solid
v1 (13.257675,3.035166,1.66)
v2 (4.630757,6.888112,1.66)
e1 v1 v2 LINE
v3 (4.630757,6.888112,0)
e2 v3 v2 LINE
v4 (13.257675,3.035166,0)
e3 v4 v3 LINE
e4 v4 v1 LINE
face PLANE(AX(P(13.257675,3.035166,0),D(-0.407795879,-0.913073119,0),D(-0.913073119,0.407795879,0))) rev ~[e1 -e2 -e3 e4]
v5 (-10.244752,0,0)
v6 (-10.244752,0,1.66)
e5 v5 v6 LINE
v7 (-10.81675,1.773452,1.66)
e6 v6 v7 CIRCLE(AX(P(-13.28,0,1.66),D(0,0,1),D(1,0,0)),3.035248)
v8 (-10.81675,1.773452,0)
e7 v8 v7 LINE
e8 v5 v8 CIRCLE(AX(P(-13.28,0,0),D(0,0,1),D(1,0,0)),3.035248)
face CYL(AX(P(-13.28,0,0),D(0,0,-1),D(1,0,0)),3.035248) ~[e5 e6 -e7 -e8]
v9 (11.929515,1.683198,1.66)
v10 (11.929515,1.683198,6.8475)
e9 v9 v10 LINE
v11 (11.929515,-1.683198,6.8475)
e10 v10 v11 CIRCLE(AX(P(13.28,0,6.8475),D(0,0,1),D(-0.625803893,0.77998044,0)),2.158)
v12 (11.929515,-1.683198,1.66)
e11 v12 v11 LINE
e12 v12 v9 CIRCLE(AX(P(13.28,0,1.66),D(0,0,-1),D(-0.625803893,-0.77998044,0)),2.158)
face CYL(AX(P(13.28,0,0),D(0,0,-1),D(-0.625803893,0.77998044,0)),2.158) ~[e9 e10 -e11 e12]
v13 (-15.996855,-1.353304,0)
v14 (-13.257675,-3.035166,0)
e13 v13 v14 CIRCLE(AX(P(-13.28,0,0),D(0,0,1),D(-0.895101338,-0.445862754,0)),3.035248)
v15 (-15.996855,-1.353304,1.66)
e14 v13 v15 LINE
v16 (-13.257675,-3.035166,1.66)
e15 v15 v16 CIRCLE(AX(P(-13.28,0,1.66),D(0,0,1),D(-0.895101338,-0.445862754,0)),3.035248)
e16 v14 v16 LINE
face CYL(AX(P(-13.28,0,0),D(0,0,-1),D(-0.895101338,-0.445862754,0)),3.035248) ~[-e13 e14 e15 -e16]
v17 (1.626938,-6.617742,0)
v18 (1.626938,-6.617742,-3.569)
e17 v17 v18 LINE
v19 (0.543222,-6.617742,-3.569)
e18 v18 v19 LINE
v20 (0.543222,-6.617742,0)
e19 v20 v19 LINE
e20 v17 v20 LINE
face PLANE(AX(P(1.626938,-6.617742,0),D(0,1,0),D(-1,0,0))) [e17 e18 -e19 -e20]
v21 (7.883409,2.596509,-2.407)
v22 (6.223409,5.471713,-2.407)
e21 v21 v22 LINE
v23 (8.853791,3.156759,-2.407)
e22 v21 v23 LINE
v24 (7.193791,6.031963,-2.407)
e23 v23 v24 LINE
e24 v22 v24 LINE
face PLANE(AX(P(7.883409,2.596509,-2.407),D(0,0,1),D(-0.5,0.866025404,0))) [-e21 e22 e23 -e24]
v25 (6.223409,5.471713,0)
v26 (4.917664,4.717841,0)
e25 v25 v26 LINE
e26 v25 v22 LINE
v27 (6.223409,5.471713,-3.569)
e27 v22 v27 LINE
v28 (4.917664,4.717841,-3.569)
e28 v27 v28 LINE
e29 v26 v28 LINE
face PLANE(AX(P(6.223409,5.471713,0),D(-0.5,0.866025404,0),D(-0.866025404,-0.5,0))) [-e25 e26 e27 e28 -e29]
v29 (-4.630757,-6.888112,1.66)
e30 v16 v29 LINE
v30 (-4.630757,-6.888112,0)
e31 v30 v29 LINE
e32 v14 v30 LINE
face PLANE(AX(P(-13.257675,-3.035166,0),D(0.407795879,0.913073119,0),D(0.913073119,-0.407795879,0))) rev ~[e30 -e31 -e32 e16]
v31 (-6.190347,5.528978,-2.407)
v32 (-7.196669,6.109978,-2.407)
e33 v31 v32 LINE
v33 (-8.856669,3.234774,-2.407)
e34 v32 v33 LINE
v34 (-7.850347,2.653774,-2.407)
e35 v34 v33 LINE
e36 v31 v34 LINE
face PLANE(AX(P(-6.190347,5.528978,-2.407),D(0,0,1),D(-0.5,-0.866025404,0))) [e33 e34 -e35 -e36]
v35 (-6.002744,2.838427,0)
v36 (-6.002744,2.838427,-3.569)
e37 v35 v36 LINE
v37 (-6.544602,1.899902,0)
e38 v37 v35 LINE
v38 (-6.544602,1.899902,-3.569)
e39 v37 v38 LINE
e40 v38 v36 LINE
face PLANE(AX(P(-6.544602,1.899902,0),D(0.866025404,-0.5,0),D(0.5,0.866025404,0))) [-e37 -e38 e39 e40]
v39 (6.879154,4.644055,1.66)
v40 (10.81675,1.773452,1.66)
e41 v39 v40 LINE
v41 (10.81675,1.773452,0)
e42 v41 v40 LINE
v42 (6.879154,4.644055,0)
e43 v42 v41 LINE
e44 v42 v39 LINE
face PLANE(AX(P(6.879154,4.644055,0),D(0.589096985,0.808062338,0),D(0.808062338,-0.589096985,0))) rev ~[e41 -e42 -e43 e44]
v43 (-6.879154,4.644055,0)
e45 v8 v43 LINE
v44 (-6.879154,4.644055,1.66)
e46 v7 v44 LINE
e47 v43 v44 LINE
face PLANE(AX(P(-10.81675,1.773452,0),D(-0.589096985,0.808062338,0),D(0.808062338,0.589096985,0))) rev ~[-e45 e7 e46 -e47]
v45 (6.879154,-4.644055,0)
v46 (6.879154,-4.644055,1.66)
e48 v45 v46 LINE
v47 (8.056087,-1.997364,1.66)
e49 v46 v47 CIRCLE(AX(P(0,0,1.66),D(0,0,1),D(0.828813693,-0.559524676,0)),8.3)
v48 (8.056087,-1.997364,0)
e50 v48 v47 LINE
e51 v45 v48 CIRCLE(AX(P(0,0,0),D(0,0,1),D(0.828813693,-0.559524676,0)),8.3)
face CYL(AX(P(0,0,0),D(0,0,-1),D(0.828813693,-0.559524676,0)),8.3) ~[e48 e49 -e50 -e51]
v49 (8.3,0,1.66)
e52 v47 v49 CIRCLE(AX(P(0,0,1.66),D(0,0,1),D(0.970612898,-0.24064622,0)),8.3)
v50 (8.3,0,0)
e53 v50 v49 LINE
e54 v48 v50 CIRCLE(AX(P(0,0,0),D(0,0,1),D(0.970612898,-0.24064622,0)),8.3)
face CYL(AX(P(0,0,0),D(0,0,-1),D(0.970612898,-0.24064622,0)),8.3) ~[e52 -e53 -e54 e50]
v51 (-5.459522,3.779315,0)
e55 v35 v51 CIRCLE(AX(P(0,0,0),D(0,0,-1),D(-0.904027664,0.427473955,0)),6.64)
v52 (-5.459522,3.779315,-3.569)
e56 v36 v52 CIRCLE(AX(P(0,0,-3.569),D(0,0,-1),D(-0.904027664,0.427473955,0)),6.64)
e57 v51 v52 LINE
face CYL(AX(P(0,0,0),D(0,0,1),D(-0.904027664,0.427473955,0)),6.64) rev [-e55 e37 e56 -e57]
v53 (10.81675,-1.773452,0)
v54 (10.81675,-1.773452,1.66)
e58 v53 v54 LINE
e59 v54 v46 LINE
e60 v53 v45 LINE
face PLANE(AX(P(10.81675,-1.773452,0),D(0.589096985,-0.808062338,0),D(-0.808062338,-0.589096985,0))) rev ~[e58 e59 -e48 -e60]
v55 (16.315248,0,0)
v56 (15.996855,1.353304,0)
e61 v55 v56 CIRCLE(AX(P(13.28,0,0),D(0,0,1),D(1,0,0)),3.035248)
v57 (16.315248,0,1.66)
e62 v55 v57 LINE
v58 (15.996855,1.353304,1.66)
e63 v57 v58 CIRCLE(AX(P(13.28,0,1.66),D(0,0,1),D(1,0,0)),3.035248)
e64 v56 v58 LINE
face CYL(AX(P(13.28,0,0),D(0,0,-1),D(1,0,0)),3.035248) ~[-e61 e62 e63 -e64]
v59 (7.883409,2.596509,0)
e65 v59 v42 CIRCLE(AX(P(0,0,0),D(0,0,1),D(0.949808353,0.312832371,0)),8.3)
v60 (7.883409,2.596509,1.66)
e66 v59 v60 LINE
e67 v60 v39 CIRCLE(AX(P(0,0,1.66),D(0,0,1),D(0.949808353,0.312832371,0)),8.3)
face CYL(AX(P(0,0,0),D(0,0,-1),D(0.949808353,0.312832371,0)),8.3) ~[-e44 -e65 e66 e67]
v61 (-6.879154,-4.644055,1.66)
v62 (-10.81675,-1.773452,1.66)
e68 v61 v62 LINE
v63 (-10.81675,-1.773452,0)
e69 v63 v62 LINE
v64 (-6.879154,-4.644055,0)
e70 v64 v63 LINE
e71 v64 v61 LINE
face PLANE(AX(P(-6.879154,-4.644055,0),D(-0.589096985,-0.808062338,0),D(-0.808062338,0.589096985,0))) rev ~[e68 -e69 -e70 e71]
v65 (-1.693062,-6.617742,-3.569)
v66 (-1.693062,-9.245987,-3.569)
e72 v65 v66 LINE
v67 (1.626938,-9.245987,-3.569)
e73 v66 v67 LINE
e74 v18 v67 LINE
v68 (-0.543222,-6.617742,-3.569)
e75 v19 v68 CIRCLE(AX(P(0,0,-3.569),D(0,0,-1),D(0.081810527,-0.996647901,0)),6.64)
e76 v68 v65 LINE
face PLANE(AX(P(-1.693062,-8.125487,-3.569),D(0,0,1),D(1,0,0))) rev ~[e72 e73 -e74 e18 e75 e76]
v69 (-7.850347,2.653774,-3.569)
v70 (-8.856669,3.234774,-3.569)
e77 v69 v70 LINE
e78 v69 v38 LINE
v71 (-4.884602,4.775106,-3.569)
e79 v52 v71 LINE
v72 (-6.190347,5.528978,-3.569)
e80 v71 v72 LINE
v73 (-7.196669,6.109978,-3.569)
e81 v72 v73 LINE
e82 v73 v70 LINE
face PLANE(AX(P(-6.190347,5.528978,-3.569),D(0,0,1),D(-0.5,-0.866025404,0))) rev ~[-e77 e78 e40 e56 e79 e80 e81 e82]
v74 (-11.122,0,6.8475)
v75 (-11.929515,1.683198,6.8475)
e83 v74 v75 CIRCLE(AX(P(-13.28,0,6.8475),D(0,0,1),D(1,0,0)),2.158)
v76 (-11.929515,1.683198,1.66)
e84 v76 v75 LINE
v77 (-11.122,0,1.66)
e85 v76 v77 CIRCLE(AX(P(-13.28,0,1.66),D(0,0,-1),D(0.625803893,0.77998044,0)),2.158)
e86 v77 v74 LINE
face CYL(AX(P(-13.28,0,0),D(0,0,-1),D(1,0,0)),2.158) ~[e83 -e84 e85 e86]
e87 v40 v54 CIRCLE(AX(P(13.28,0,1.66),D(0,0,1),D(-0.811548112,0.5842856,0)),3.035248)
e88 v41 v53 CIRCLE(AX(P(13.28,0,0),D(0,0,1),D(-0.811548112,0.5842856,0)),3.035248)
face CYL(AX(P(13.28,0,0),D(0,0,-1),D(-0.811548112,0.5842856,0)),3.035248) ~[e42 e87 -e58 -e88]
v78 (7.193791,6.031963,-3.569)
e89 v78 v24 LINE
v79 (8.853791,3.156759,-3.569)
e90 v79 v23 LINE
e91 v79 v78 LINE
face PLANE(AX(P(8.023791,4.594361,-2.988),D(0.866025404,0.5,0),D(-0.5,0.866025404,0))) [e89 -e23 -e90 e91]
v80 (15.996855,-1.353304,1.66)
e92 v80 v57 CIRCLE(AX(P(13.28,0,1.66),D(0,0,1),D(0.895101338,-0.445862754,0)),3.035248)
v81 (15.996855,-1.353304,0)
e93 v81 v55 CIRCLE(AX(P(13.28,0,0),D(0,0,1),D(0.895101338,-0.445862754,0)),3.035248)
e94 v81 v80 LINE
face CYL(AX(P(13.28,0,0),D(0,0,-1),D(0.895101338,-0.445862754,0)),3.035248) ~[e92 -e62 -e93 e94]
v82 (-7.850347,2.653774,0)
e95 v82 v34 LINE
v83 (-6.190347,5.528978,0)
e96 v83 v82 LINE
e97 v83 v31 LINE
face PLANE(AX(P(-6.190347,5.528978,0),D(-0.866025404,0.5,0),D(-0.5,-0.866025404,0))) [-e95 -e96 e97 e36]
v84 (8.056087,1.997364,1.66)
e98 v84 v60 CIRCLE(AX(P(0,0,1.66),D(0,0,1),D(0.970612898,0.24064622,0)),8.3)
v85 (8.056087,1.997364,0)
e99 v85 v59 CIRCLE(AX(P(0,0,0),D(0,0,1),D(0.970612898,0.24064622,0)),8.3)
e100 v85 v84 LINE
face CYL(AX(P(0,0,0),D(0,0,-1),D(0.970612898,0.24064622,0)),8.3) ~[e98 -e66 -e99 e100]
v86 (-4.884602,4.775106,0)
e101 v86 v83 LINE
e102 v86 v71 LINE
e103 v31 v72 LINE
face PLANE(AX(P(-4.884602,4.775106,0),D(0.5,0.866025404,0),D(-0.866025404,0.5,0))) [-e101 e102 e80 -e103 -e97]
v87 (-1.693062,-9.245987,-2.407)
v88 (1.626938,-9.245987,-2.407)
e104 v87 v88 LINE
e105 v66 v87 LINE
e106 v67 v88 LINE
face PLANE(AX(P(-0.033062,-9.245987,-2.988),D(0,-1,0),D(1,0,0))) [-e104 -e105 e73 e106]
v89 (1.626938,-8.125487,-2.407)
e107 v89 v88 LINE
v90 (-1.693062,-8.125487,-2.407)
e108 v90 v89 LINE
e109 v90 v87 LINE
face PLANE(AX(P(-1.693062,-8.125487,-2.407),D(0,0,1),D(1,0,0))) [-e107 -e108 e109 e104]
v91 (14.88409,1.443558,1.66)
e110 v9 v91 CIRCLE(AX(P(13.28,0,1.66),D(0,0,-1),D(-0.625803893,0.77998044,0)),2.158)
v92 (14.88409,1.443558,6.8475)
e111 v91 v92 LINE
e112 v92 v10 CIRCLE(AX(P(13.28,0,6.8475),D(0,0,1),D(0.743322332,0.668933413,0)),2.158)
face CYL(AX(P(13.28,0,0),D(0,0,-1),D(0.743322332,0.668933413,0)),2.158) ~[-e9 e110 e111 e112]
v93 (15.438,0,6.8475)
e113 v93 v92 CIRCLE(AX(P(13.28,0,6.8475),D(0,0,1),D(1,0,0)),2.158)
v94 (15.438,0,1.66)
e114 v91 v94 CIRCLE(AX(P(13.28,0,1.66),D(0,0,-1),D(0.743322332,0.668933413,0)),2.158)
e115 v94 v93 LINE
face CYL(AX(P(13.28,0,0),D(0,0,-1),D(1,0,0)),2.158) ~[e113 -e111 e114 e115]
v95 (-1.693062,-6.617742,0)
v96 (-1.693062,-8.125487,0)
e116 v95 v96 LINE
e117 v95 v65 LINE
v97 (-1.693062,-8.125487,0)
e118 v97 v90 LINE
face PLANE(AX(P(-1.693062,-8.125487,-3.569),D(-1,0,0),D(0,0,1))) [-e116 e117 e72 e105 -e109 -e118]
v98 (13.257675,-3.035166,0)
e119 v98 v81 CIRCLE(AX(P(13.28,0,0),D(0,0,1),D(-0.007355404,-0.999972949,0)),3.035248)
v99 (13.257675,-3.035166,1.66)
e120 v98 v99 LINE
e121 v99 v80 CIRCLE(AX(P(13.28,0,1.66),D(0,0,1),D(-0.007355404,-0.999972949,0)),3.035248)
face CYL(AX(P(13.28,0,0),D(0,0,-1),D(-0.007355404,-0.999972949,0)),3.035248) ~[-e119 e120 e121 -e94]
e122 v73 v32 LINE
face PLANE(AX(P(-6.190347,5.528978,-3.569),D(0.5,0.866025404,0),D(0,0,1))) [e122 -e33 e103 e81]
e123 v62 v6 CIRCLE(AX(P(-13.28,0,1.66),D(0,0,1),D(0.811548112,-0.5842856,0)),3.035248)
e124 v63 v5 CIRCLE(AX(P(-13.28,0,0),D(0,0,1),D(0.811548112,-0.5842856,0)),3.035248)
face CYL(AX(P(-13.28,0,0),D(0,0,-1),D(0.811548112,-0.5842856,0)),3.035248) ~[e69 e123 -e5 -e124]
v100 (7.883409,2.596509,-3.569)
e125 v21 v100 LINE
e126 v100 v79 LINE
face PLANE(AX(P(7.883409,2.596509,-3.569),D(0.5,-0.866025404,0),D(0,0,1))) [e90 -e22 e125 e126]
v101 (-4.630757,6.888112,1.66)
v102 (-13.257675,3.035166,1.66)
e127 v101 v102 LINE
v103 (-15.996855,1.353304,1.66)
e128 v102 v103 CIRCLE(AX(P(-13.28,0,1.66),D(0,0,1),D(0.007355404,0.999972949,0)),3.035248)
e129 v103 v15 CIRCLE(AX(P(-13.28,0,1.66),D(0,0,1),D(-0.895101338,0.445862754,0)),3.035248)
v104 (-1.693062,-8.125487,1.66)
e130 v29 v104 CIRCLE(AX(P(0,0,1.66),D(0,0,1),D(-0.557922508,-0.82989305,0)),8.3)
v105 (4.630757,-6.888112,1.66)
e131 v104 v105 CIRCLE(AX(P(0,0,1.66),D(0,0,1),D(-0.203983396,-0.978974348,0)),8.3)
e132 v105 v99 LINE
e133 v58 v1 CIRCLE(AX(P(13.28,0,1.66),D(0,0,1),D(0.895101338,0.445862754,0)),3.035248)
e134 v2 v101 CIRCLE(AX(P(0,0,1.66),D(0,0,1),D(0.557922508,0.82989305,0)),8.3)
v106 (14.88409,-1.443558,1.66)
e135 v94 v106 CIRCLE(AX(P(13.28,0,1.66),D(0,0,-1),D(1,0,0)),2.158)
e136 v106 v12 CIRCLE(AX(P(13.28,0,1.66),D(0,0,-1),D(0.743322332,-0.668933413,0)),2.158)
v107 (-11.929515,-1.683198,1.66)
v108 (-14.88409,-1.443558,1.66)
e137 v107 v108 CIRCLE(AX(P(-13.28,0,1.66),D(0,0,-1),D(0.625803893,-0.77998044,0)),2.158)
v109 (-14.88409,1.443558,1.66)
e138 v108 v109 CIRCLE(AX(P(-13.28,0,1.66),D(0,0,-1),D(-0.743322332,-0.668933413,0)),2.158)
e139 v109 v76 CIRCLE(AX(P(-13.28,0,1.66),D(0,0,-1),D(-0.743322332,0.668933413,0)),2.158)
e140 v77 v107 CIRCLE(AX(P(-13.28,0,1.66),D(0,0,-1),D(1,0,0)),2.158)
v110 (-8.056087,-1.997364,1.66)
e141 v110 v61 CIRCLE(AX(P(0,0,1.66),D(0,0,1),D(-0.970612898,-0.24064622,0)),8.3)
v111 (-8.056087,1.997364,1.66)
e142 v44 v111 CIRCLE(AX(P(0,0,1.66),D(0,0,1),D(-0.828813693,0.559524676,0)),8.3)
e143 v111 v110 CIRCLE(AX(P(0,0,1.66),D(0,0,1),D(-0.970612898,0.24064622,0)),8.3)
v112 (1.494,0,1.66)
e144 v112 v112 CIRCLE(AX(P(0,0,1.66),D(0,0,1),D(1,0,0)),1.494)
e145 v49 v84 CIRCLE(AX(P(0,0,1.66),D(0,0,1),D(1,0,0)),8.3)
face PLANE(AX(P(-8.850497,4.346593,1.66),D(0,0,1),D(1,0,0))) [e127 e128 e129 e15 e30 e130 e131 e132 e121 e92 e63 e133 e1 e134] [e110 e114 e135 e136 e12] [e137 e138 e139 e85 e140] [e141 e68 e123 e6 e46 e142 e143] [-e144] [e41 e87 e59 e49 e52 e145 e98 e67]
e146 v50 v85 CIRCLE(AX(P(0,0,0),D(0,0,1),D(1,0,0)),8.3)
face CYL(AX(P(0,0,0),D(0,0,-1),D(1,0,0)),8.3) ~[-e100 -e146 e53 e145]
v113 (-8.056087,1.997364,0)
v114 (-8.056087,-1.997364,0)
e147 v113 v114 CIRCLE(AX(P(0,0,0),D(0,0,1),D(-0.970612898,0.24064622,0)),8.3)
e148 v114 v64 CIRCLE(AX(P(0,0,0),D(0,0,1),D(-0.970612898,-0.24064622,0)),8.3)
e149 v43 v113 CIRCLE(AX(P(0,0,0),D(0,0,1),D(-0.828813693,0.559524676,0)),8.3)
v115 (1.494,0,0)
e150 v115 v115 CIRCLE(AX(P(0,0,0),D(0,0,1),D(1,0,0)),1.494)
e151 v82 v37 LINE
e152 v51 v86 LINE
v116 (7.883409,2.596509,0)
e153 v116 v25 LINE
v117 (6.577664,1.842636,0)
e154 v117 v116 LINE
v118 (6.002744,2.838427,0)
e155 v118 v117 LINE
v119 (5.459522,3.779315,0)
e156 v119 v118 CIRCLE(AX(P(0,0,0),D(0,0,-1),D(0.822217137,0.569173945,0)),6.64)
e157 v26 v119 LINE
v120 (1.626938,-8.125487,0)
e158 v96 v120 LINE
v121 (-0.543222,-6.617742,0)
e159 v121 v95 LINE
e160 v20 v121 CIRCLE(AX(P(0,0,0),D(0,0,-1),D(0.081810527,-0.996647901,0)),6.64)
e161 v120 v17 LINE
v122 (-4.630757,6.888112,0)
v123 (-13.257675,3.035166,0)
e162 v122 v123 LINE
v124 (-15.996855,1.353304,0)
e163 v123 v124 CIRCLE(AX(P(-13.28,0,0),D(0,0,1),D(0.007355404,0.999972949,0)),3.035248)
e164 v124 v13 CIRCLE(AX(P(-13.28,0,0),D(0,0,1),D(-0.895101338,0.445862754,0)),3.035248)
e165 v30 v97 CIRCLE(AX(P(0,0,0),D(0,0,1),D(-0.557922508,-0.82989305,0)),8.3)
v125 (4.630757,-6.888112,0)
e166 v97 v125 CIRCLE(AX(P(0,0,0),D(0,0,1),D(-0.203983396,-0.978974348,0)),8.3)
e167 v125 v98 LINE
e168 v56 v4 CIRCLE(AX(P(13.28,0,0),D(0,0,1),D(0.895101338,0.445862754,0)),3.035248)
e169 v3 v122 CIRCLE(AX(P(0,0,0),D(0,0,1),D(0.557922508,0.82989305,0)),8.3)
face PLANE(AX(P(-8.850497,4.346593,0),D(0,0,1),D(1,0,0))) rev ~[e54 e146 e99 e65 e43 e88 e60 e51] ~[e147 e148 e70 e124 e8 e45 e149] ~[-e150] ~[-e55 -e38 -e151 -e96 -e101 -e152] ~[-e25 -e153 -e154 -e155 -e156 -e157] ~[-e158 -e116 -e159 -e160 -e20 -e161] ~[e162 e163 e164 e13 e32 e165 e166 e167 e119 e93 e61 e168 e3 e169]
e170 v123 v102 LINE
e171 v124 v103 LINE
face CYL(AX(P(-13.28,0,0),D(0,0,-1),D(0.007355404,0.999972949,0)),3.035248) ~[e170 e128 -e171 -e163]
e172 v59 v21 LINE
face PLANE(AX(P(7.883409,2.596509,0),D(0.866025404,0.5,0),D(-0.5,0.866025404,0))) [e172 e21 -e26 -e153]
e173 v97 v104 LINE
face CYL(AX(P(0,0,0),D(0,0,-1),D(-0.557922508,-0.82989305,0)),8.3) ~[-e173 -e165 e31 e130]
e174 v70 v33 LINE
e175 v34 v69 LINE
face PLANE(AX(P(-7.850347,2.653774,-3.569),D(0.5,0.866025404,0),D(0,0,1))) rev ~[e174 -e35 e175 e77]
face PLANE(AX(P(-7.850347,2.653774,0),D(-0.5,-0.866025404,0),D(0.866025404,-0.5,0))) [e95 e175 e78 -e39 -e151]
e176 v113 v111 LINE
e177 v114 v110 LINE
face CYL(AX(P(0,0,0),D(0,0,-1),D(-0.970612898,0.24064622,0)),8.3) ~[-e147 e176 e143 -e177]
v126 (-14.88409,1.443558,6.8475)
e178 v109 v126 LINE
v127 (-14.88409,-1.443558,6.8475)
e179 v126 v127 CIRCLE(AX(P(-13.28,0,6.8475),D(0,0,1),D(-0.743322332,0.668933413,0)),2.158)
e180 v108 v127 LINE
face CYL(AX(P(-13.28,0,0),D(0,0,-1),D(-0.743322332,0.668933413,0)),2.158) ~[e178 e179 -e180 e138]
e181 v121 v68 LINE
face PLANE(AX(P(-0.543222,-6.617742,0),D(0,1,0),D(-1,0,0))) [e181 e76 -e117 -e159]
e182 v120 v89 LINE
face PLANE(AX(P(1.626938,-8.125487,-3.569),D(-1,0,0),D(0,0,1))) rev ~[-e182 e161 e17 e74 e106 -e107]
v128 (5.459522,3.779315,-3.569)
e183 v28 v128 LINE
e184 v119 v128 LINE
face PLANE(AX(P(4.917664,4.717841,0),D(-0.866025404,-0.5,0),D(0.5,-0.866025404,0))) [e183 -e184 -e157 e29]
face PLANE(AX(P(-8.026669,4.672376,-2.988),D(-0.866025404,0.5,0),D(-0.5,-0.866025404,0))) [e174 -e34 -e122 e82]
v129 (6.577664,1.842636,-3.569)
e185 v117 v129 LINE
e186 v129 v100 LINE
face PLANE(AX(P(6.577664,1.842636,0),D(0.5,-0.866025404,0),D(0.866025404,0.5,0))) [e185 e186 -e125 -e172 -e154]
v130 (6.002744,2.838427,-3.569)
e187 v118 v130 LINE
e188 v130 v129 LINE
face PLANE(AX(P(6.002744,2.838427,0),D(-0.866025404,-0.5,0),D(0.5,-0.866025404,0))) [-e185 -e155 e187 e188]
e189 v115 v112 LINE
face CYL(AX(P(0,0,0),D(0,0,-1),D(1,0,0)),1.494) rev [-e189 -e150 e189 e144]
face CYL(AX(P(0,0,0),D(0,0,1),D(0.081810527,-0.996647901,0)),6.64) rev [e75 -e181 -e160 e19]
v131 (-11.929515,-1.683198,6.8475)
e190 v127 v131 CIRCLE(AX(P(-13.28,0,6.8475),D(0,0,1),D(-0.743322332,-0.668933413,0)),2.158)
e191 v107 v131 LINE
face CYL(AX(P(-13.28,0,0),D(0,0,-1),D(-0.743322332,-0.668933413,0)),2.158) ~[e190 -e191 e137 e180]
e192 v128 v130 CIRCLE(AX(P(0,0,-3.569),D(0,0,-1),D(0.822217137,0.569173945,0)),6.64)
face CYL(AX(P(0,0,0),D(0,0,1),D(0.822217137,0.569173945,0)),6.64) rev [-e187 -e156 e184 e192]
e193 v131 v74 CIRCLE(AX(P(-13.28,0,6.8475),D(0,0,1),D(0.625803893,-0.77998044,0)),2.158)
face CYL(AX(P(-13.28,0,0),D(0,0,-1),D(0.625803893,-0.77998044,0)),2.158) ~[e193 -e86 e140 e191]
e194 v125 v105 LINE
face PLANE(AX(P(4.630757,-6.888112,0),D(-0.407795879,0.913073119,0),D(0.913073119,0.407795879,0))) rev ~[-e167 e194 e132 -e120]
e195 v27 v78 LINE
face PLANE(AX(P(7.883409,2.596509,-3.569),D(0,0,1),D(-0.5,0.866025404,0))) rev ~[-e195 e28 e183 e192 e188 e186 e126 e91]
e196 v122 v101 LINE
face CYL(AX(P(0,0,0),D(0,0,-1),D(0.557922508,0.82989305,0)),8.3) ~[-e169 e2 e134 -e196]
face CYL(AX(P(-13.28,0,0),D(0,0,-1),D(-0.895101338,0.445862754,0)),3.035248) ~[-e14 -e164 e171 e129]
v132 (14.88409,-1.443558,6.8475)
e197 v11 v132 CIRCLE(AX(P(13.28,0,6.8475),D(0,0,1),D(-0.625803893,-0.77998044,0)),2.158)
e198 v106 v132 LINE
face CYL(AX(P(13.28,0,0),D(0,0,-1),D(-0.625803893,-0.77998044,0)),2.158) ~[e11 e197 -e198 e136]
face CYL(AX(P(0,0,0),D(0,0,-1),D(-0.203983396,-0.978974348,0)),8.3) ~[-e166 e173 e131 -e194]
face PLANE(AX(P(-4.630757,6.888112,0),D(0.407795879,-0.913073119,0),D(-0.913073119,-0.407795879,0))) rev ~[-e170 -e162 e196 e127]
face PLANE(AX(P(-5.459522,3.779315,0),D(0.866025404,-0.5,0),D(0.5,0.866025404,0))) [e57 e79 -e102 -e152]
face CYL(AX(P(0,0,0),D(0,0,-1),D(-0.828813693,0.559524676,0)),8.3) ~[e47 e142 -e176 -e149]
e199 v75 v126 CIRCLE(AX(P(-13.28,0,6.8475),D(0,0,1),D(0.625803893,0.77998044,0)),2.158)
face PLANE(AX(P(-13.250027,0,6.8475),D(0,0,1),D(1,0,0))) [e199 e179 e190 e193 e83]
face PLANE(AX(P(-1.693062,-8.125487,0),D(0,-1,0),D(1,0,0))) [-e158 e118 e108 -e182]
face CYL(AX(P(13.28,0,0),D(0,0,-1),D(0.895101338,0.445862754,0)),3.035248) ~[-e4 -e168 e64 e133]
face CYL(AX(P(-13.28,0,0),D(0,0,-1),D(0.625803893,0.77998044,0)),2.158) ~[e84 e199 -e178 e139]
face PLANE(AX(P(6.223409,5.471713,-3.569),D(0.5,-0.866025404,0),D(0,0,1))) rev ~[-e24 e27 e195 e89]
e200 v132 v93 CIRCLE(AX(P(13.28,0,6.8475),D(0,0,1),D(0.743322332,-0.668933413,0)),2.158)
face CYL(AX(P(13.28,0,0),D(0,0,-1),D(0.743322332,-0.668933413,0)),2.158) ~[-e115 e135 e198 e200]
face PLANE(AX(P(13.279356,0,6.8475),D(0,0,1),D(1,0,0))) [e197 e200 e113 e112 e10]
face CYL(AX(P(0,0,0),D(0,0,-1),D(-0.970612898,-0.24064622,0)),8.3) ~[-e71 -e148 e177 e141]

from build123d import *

# Parameters (mm, degrees)
F0_R      = 1.8
F1_DEPTH  = 2
F2_DEPTH  = 8.25
F3_DEPTH  = 4.3
F4_W      = 4
F4_H      = 1.4
F5_DEPTH  = 1.35
F6_W      = 4
F6_H      = 1.4
F7_DEPTH  = 1.4
F8_W      = 4
F8_H      = 1.4
F9_DEPTH  = 1.35
F10_SCALE = 0.83


with BuildPart() as f1:
    # F0 (on Top) → F1 (new body)
    with BuildSketch(Plane.XY):
        with BuildLine():
            ThreePointArc((-15.9731018348, 3.6568268038), (-14.320799056, 3.2485981552), (-13.0322288298, 2.1366890427))
            Line((-13.0322288298, 2.1366890427), (-8.2881369278, 5.5952467565))
            ThreePointArc((-8.2881369278, 5.5952467565), (-7.8912200061, 6.1423649204), (-7.4582495736, 6.6614197659))
            ThreePointArc((-7.4582495736, 6.6614197659), (-6.5699540858, 7.5389457691), (-5.57922508, 8.2989305038))
            Line((-5.57922508, 8.2989305038), (-15.9731018348, 3.6568268038))
        make_face()
        with BuildLine():
            ThreePointArc((6.5777370937, 4.553391563), (0, 8), (-6.5777370937, 4.553391563))
            Line((-6.5777370937, 4.553391563), (-7.2322213138, 3.4197916411))
            ThreePointArc((-7.2322213138, 3.4197916411), (-6.9282032303, -4), (-0.6544842201, -7.9731832041))
            Line((-0.6544842201, -7.9731832041), (0.6544842201, -7.9731832041))
            ThreePointArc((0.6544842201, -7.9731832041), (5.883700951, -5.4205224028), (8, 0))
            ThreePointArc((8, 0), (7.8056956932, 1.7524596272), (7.2322213138, 3.4197916411))
            Line((7.2322213138, 3.4197916411), (6.5777370937, 4.553391563))
        make_face()
        Circle(F0_R, mode=Mode.SUBTRACT)
        with BuildLine():
            Line((-8.2881369278, -5.5952467565), (-13.0322288298, -2.1366890427))
            ThreePointArc((-13.0322288298, -2.1366890427), (-14.320799056, -3.2485981552), (-15.9731018348, -3.6568268038))
            Line((-15.9731018348, -3.6568268038), (-5.57922508, -8.2989305038))
            ThreePointArc((-5.57922508, -8.2989305038), (-7.0642344748, -7.0778945517), (-8.2881369278, -5.5952467565))
        make_face()
        with BuildLine():
            Line((-13.0322288298, -2.1366890427), (-14.3729098782, -2.0279491452))
            ThreePointArc((-14.3729098782, -2.0279491452), (-16.2101904462, -2.5914899144), (-17.9326380631, -1.7392268733))
            Line((-17.9326380631, -1.7392268733), (-19.2733191115, -1.6304869758))
            ThreePointArc((-19.2733191115, -1.6304869758), (-17.9134590444, -3.1163729349), (-15.9731018348, -3.6568268038))
            ThreePointArc((-15.9731018348, -3.6568268038), (-14.320799056, -3.2485981552), (-13.0322288298, -2.1366890427))
        make_face()
        with BuildLine():
            ThreePointArc((-17.9326380631, -1.7392268733), (-18.6, 0), (-17.9326380631, 1.7392268733))
            Line((-17.9326380631, 1.7392268733), (-19.2733191115, 1.6304869758))
            ThreePointArc((-19.2733191115, 1.6304869758), (-19.6569257285, 0), (-19.2733191115, -1.6304869758))
            Line((-19.2733191115, -1.6304869758), (-17.9326380631, -1.7392268733))
        make_face()
        with BuildLine():
            ThreePointArc((-17.9326380631, 1.7392268733), (-16.2101904462, 2.5914899144), (-14.3729098782, 2.0279491452))
            Line((-14.3729098782, 2.0279491452), (-13.0322288298, 2.1366890427))
            ThreePointArc((-13.0322288298, 2.1366890427), (-14.320799056, 3.2485981552), (-15.9731018348, 3.6568268038))
            ThreePointArc((-15.9731018348, 3.6568268038), (-17.9134590444, 3.1163729349), (-19.2733191115, 1.6304869758))
            Line((-19.2733191115, 1.6304869758), (-17.9326380631, 1.7392268733))
        make_face()
        with BuildLine():
            ThreePointArc((-14.3729098782, 2.0279491452), (-13.6558120471, 1.1246256451), (-13.4, 0))
            ThreePointArc((-13.4, 0), (-13.6558120471, -1.1246256451), (-14.3729098782, -2.0279491452))
            Line((-14.3729098782, -2.0279491452), (-13.0322288298, -2.1366890427))
            ThreePointArc((-13.0322288298, -2.1366890427), (-12.5196246946, -1.1225388713), (-12.3430742715, 0))
            ThreePointArc((-12.3430742715, 0), (-12.5196246946, 1.1225388713), (-13.0322288298, 2.1366890427))
            Line((-13.0322288298, 2.1366890427), (-14.3729098782, 2.0279491452))
        make_face()
        with BuildLine():
            ThreePointArc((8.2881369278, -5.5952467565), (7.0642344748, -7.0778945517), (5.57922508, -8.2989305038))
            Line((5.57922508, -8.2989305038), (15.9731018348, -3.6568268038))
            ThreePointArc((15.9731018348, -3.6568268038), (14.320799056, -3.2485981552), (13.0322288298, -2.1366890427))
            Line((13.0322288298, -2.1366890427), (8.2881369278, -5.5952467565))
        make_face()
        with BuildLine():
            Line((15.9731018348, 3.6568268038), (5.57922508, 8.2989305038))
            ThreePointArc((5.57922508, 8.2989305038), (7.0642344748, 7.0778945517), (8.2881369278, 5.5952467565))
            Line((8.2881369278, 5.5952467565), (13.0322288298, 2.1366890427))
            ThreePointArc((13.0322288298, 2.1366890427), (14.320799056, 3.2485981552), (15.9731018348, 3.6568268038))
        make_face()
        with BuildLine():
            ThreePointArc((19.2733191115, 1.6304869758), (17.9134590444, 3.1163729349), (15.9731018348, 3.6568268038))
            ThreePointArc((15.9731018348, 3.6568268038), (14.320799056, 3.2485981552), (13.0322288298, 2.1366890427))
            Line((13.0322288298, 2.1366890427), (14.3729098782, 2.0279491452))
            ThreePointArc((14.3729098782, 2.0279491452), (16.2101904462, 2.5914899144), (17.9326380631, 1.7392268733))
            Line((17.9326380631, 1.7392268733), (19.2733191115, 1.6304869758))
        make_face()
        with BuildLine():
            Line((14.3729098782, 2.0279491452), (13.0322288298, 2.1366890427))
            ThreePointArc((13.0322288298, 2.1366890427), (12.3430742715, 0), (13.0322288298, -2.1366890427))
            Line((13.0322288298, -2.1366890427), (14.3729098782, -2.0279491452))
            ThreePointArc((14.3729098782, -2.0279491452), (13.4, 0), (14.3729098782, 2.0279491452))
        make_face()
        with BuildLine():
            ThreePointArc((13.0322288298, -2.1366890427), (14.320799056, -3.2485981552), (15.9731018348, -3.6568268038))
            ThreePointArc((15.9731018348, -3.6568268038), (17.9134590444, -3.1163729349), (19.2733191115, -1.6304869758))
            Line((19.2733191115, -1.6304869758), (17.9326380631, -1.7392268733))
            ThreePointArc((17.9326380631, -1.7392268733), (16.2101904462, -2.5914899144), (14.3729098782, -2.0279491452))
            Line((14.3729098782, -2.0279491452), (13.0322288298, -2.1366890427))
        make_face()
        with BuildLine():
            ThreePointArc((19.6569257285, 0), (19.5597324802, 0.8375025097), (19.2733191115, 1.6304869758))
            Line((19.2733191115, 1.6304869758), (17.9326380631, 1.7392268733))
            ThreePointArc((17.9326380631, 1.7392268733), (18.4274326936, 0.9314346558), (18.6, 0))
            ThreePointArc((18.6, 0), (18.4274326936, -0.9314346558), (17.9326380631, -1.7392268733))
            Line((17.9326380631, -1.7392268733), (19.2733191115, -1.6304869758))
            ThreePointArc((19.2733191115, -1.6304869758), (19.5597324802, -0.8375025097), (19.6569257285, 0))
        make_face()
        with BuildLine():
            Line((1.9601660443, -9.7897434815), (-2.0398339557, -9.7897434815))
            ThreePointArc((-2.0398339557, -9.7897434815), (1.9202742555, -9.8138955967), (5.57922508, -8.2989305038))
            ThreePointArc((5.57922508, -8.2989305038), (7.0642344748, -7.0778945517), (8.2881369278, -5.5952467565))
            ThreePointArc((8.2881369278, -5.5952467565), (9.1373129578, -4.0631898691), (9.7061289754, -2.4064621985))
            ThreePointArc((9.7061289754, -2.4064621985), (9.9262603672, -1.2121695933), (10, 0))
            ThreePointArc((10, 0), (9.9262603672, 1.2121695933), (9.7061289754, 2.4064621985))
            ThreePointArc((9.7061289754, 2.4064621985), (9.6088873182, 2.7693473068), (9.4980835293, 3.1283237156))
            Line((9.4980835293, 3.1283237156), (7.9248961816, 2.2200435769))
            Line((7.9248961816, 2.2200435769), (7.2322213138, 3.4197916411))
            ThreePointArc((7.2322213138, 3.4197916411), (7.8056956932, 1.7524596272), (8, 0))
            ThreePointArc((8, 0), (5.883700951, -5.4205224028), (0.6544842201, -7.9731832041))
            Line((0.6544842201, -7.9731832041), (1.9601660443, -7.9731832041))
            Line((1.9601660443, -7.9731832041), (1.9601660443, -9.7897434815))
        make_face()
        with BuildLine():
            ThreePointArc((-8.2881369278, 5.5952467565), (-9.1373129578, 4.0631898691), (-9.7061289754, 2.4064621985))
            ThreePointArc((-9.7061289754, 2.4064621985), (-10, 0), (-9.7061289754, -2.4064621985))
            ThreePointArc((-9.7061289754, -2.4064621985), (-9.1373129578, -4.0631898691), (-8.2881369278, -5.5952467565))
            ThreePointArc((-8.2881369278, -5.5952467565), (-7.0642344748, -7.0778945517), (-5.57922508, -8.2989305038))
            ThreePointArc((-5.57922508, -8.2989305038), (-3.8817709851, -9.2158479816), (-2.0398339557, -9.7897434815))
            Line((-2.0398339557, -9.7897434815), (-2.0398339557, -7.9731832041))
            Line((-2.0398339557, -7.9731832041), (-0.6544842201, -7.9731832041))
            ThreePointArc((-0.6544842201, -7.9731832041), (-6.9282032303, -4), (-7.2322213138, 3.4197916411))
            Line((-7.2322213138, 3.4197916411), (-7.8850622259, 2.289038012))
            Line((-7.8850622259, 2.289038012), (-9.4582495736, 3.1973181507))
            Line((-9.4582495736, 3.1973181507), (-7.4582495736, 6.6614197659))
            ThreePointArc((-7.4582495736, 6.6614197659), (-7.8912200061, 6.1423649204), (-8.2881369278, 5.5952467565))
        make_face()
        with BuildLine():
            ThreePointArc((5.57922508, 8.2989305038), (0, 10), (-5.57922508, 8.2989305038))
            ThreePointArc((-5.57922508, 8.2989305038), (-6.5699540858, 7.5389457691), (-7.4582495736, 6.6614197659))
            Line((-7.4582495736, 6.6614197659), (-5.8850622259, 5.7531396272))
            Line((-5.8850622259, 5.7531396272), (-6.5777370937, 4.553391563))
            ThreePointArc((-6.5777370937, 4.553391563), (0, 8), (6.5777370937, 4.553391563))
            Line((6.5777370937, 4.553391563), (5.9248961816, 5.684145192))
            Line((5.9248961816, 5.684145192), (7.4980835293, 6.5924253307))
            Line((7.4980835293, 6.5924253307), (9.4980835293, 3.1283237156))
            ThreePointArc((9.4980835293, 3.1283237156), (8.9782424149, 4.403539842), (8.2881369278, 5.5952467565))
            ThreePointArc((8.2881369278, 5.5952467565), (7.0642344748, 7.0778945517), (5.57922508, 8.2989305038))
        make_face()
        with BuildLine():
            Line((-2.0398339557, -7.9731832041), (-2.0398339557, -9.7897434815))
            Line((-2.0398339557, -9.7897434815), (1.9601660443, -9.7897434815))
            Line((1.9601660443, -9.7897434815), (1.9601660443, -7.9731832041))
            Line((1.9601660443, -7.9731832041), (0.6544842201, -7.9731832041))
            ThreePointArc((0.6544842201, -7.9731832041), (0, -8), (-0.6544842201, -7.9731832041))
            Line((-0.6544842201, -7.9731832041), (-2.0398339557, -7.9731832041))
        make_face()
        with BuildLine():
            Line((-5.8850622259, 5.7531396272), (-7.4582495736, 6.6614197659))
            Line((-7.4582495736, 6.6614197659), (-9.4582495736, 3.1973181507))
            Line((-9.4582495736, 3.1973181507), (-7.8850622259, 2.289038012))
            Line((-7.8850622259, 2.289038012), (-7.2322213138, 3.4197916411))
            ThreePointArc((-7.2322213138, 3.4197916411), (-6.9282032303, 4), (-6.5777370937, 4.553391563))
            Line((-6.5777370937, 4.553391563), (-5.8850622259, 5.7531396272))
        make_face()
        with BuildLine():
            Line((7.9248961816, 2.2200435769), (9.4980835293, 3.1283237156))
            Line((9.4980835293, 3.1283237156), (7.4980835293, 6.5924253307))
            Line((7.4980835293, 6.5924253307), (5.9248961816, 5.684145192))
            Line((5.9248961816, 5.684145192), (6.5777370937, 4.553391563))
            ThreePointArc((6.5777370937, 4.553391563), (6.9282032303, 4), (7.2322213138, 3.4197916411))
            Line((7.2322213138, 3.4197916411), (7.9248961816, 2.2200435769))
        make_face()
        with BuildLine():
            Line((0.6544842201, -7.9731832041), (-0.6544842201, -7.9731832041))
            ThreePointArc((-0.6544842201, -7.9731832041), (0, -8), (0.6544842201, -7.9731832041))
        make_face()
        with BuildLine():
            Line((-7.2322213138, 3.4197916411), (-6.5777370937, 4.553391563))
            ThreePointArc((-6.5777370937, 4.553391563), (-6.9282032303, 4), (-7.2322213138, 3.4197916411))
        make_face()
        with BuildLine():
            ThreePointArc((7.2322213138, 3.4197916411), (6.9282032303, 4), (6.5777370937, 4.553391563))
            Line((6.5777370937, 4.553391563), (7.2322213138, 3.4197916411))
        make_face()
    extrude(amount=F1_DEPTH)

    # F0 (on Top) → F2 (join)
    with BuildSketch(Plane.XY):
        with BuildLine():
            ThreePointArc((-14.3729098782, -2.0279491452), (-13.6558120471, -1.1246256451), (-13.4, 0))
            ThreePointArc((-13.4, 0), (-13.6558120471, 1.1246256451), (-14.3729098782, 2.0279491452))
            Line((-14.3729098782, 2.0279491452), (-17.9326380631, 1.7392268733))
            ThreePointArc((-17.9326380631, 1.7392268733), (-18.6, 0), (-17.9326380631, -1.7392268733))
            Line((-17.9326380631, -1.7392268733), (-14.3729098782, -2.0279491452))
        make_face()
        with BuildLine():
            Line((17.9326380631, 1.7392268733), (14.3729098782, 2.0279491452))
            ThreePointArc((14.3729098782, 2.0279491452), (13.4, 0), (14.3729098782, -2.0279491452))
            Line((14.3729098782, -2.0279491452), (17.9326380631, -1.7392268733))
            ThreePointArc((17.9326380631, -1.7392268733), (18.4274326936, -0.9314346558), (18.6, 0))
            ThreePointArc((18.6, 0), (18.4274326936, 0.9314346558), (17.9326380631, 1.7392268733))
        make_face()
        with BuildLine():
            Line((-17.9326380631, 1.7392268733), (-14.3729098782, 2.0279491452))
            ThreePointArc((-14.3729098782, 2.0279491452), (-16.2101904462, 2.5914899144), (-17.9326380631, 1.7392268733))
        make_face()
        with BuildLine():
            ThreePointArc((-17.9326380631, -1.7392268733), (-16.2101904462, -2.5914899144), (-14.3729098782, -2.0279491452))
            Line((-14.3729098782, -2.0279491452), (-17.9326380631, -1.7392268733))
        make_face()
        with BuildLine():
            Line((17.9326380631, -1.7392268733), (14.3729098782, -2.0279491452))
            ThreePointArc((14.3729098782, -2.0279491452), (16.2101904462, -2.5914899144), (17.9326380631, -1.7392268733))
        make_face()
        with BuildLine():
            ThreePointArc((17.9326380631, 1.7392268733), (16.2101904462, 2.5914899144), (14.3729098782, 2.0279491452))
            Line((14.3729098782, 2.0279491452), (17.9326380631, 1.7392268733))
        make_face()
    extrude(amount=F2_DEPTH)

    # F0 (on Top) → F3 (join)
    with BuildSketch(Plane.XY):
        with BuildLine():
            Line((-5.8850622259, 5.7531396272), (-7.4582495736, 6.6614197659))
            Line((-7.4582495736, 6.6614197659), (-9.4582495736, 3.1973181507))
            Line((-9.4582495736, 3.1973181507), (-7.8850622259, 2.289038012))
            Line((-7.8850622259, 2.289038012), (-7.2322213138, 3.4197916411))
            ThreePointArc((-7.2322213138, 3.4197916411), (-6.9282032303, 4), (-6.5777370937, 4.553391563))
            Line((-6.5777370937, 4.553391563), (-5.8850622259, 5.7531396272))
        make_face()
        with BuildLine():
            Line((7.9248961816, 2.2200435769), (9.4980835293, 3.1283237156))
            Line((9.4980835293, 3.1283237156), (7.4980835293, 6.5924253307))
            Line((7.4980835293, 6.5924253307), (5.9248961816, 5.684145192))
            Line((5.9248961816, 5.684145192), (6.5777370937, 4.553391563))
            ThreePointArc((6.5777370937, 4.553391563), (6.9282032303, 4), (7.2322213138, 3.4197916411))
            Line((7.2322213138, 3.4197916411), (7.9248961816, 2.2200435769))
        make_face()
        with BuildLine():
            Line((-2.0398339557, -7.9731832041), (-2.0398339557, -9.7897434815))
            Line((-2.0398339557, -9.7897434815), (1.9601660443, -9.7897434815))
            Line((1.9601660443, -9.7897434815), (1.9601660443, -7.9731832041))
            Line((1.9601660443, -7.9731832041), (0.6544842201, -7.9731832041))
            ThreePointArc((0.6544842201, -7.9731832041), (0, -8), (-0.6544842201, -7.9731832041))
            Line((-0.6544842201, -7.9731832041), (-2.0398339557, -7.9731832041))
        make_face()
    extrude(amount=-F3_DEPTH)

    # F4 (on face) → F5 (join)
    with BuildSketch(Plane.XZ.offset(9.7897434815)):
        with Locations((-0.0398339557, -3.6)):
            Rectangle(F4_W, F4_H)
    extrude(amount=F5_DEPTH)

    # F6 (on face) → F7 (join)
    with BuildSketch(Plane(origin=(-8.4781665515, 4.8948717407, 0), x_dir=(-0.5, -0.8660254038, 0), z_dir=(-0.8660254038, 0.5, 0))):
        with Locations((-0.0398339557, -3.6)):
            Rectangle(F6_W, F6_H)
    extrude(amount=F7_DEPTH)

    # F8 (on face) → F9 (join)
    with BuildSketch(Plane(origin=(8.4781665515, 4.8948717407, 0), x_dir=(-0.5, 0.8660254038, 0), z_dir=(0.8660254038, 0.5, 0))):
        with Locations((-0.0398339557, -3.6)):
            Rectangle(F8_W, F8_H)
    extrude(amount=F9_DEPTH)


with BuildPart() as f1_1:
    # F10: moved
    add(f1.part.scale(F10_SCALE))


solid = f1_1.part
